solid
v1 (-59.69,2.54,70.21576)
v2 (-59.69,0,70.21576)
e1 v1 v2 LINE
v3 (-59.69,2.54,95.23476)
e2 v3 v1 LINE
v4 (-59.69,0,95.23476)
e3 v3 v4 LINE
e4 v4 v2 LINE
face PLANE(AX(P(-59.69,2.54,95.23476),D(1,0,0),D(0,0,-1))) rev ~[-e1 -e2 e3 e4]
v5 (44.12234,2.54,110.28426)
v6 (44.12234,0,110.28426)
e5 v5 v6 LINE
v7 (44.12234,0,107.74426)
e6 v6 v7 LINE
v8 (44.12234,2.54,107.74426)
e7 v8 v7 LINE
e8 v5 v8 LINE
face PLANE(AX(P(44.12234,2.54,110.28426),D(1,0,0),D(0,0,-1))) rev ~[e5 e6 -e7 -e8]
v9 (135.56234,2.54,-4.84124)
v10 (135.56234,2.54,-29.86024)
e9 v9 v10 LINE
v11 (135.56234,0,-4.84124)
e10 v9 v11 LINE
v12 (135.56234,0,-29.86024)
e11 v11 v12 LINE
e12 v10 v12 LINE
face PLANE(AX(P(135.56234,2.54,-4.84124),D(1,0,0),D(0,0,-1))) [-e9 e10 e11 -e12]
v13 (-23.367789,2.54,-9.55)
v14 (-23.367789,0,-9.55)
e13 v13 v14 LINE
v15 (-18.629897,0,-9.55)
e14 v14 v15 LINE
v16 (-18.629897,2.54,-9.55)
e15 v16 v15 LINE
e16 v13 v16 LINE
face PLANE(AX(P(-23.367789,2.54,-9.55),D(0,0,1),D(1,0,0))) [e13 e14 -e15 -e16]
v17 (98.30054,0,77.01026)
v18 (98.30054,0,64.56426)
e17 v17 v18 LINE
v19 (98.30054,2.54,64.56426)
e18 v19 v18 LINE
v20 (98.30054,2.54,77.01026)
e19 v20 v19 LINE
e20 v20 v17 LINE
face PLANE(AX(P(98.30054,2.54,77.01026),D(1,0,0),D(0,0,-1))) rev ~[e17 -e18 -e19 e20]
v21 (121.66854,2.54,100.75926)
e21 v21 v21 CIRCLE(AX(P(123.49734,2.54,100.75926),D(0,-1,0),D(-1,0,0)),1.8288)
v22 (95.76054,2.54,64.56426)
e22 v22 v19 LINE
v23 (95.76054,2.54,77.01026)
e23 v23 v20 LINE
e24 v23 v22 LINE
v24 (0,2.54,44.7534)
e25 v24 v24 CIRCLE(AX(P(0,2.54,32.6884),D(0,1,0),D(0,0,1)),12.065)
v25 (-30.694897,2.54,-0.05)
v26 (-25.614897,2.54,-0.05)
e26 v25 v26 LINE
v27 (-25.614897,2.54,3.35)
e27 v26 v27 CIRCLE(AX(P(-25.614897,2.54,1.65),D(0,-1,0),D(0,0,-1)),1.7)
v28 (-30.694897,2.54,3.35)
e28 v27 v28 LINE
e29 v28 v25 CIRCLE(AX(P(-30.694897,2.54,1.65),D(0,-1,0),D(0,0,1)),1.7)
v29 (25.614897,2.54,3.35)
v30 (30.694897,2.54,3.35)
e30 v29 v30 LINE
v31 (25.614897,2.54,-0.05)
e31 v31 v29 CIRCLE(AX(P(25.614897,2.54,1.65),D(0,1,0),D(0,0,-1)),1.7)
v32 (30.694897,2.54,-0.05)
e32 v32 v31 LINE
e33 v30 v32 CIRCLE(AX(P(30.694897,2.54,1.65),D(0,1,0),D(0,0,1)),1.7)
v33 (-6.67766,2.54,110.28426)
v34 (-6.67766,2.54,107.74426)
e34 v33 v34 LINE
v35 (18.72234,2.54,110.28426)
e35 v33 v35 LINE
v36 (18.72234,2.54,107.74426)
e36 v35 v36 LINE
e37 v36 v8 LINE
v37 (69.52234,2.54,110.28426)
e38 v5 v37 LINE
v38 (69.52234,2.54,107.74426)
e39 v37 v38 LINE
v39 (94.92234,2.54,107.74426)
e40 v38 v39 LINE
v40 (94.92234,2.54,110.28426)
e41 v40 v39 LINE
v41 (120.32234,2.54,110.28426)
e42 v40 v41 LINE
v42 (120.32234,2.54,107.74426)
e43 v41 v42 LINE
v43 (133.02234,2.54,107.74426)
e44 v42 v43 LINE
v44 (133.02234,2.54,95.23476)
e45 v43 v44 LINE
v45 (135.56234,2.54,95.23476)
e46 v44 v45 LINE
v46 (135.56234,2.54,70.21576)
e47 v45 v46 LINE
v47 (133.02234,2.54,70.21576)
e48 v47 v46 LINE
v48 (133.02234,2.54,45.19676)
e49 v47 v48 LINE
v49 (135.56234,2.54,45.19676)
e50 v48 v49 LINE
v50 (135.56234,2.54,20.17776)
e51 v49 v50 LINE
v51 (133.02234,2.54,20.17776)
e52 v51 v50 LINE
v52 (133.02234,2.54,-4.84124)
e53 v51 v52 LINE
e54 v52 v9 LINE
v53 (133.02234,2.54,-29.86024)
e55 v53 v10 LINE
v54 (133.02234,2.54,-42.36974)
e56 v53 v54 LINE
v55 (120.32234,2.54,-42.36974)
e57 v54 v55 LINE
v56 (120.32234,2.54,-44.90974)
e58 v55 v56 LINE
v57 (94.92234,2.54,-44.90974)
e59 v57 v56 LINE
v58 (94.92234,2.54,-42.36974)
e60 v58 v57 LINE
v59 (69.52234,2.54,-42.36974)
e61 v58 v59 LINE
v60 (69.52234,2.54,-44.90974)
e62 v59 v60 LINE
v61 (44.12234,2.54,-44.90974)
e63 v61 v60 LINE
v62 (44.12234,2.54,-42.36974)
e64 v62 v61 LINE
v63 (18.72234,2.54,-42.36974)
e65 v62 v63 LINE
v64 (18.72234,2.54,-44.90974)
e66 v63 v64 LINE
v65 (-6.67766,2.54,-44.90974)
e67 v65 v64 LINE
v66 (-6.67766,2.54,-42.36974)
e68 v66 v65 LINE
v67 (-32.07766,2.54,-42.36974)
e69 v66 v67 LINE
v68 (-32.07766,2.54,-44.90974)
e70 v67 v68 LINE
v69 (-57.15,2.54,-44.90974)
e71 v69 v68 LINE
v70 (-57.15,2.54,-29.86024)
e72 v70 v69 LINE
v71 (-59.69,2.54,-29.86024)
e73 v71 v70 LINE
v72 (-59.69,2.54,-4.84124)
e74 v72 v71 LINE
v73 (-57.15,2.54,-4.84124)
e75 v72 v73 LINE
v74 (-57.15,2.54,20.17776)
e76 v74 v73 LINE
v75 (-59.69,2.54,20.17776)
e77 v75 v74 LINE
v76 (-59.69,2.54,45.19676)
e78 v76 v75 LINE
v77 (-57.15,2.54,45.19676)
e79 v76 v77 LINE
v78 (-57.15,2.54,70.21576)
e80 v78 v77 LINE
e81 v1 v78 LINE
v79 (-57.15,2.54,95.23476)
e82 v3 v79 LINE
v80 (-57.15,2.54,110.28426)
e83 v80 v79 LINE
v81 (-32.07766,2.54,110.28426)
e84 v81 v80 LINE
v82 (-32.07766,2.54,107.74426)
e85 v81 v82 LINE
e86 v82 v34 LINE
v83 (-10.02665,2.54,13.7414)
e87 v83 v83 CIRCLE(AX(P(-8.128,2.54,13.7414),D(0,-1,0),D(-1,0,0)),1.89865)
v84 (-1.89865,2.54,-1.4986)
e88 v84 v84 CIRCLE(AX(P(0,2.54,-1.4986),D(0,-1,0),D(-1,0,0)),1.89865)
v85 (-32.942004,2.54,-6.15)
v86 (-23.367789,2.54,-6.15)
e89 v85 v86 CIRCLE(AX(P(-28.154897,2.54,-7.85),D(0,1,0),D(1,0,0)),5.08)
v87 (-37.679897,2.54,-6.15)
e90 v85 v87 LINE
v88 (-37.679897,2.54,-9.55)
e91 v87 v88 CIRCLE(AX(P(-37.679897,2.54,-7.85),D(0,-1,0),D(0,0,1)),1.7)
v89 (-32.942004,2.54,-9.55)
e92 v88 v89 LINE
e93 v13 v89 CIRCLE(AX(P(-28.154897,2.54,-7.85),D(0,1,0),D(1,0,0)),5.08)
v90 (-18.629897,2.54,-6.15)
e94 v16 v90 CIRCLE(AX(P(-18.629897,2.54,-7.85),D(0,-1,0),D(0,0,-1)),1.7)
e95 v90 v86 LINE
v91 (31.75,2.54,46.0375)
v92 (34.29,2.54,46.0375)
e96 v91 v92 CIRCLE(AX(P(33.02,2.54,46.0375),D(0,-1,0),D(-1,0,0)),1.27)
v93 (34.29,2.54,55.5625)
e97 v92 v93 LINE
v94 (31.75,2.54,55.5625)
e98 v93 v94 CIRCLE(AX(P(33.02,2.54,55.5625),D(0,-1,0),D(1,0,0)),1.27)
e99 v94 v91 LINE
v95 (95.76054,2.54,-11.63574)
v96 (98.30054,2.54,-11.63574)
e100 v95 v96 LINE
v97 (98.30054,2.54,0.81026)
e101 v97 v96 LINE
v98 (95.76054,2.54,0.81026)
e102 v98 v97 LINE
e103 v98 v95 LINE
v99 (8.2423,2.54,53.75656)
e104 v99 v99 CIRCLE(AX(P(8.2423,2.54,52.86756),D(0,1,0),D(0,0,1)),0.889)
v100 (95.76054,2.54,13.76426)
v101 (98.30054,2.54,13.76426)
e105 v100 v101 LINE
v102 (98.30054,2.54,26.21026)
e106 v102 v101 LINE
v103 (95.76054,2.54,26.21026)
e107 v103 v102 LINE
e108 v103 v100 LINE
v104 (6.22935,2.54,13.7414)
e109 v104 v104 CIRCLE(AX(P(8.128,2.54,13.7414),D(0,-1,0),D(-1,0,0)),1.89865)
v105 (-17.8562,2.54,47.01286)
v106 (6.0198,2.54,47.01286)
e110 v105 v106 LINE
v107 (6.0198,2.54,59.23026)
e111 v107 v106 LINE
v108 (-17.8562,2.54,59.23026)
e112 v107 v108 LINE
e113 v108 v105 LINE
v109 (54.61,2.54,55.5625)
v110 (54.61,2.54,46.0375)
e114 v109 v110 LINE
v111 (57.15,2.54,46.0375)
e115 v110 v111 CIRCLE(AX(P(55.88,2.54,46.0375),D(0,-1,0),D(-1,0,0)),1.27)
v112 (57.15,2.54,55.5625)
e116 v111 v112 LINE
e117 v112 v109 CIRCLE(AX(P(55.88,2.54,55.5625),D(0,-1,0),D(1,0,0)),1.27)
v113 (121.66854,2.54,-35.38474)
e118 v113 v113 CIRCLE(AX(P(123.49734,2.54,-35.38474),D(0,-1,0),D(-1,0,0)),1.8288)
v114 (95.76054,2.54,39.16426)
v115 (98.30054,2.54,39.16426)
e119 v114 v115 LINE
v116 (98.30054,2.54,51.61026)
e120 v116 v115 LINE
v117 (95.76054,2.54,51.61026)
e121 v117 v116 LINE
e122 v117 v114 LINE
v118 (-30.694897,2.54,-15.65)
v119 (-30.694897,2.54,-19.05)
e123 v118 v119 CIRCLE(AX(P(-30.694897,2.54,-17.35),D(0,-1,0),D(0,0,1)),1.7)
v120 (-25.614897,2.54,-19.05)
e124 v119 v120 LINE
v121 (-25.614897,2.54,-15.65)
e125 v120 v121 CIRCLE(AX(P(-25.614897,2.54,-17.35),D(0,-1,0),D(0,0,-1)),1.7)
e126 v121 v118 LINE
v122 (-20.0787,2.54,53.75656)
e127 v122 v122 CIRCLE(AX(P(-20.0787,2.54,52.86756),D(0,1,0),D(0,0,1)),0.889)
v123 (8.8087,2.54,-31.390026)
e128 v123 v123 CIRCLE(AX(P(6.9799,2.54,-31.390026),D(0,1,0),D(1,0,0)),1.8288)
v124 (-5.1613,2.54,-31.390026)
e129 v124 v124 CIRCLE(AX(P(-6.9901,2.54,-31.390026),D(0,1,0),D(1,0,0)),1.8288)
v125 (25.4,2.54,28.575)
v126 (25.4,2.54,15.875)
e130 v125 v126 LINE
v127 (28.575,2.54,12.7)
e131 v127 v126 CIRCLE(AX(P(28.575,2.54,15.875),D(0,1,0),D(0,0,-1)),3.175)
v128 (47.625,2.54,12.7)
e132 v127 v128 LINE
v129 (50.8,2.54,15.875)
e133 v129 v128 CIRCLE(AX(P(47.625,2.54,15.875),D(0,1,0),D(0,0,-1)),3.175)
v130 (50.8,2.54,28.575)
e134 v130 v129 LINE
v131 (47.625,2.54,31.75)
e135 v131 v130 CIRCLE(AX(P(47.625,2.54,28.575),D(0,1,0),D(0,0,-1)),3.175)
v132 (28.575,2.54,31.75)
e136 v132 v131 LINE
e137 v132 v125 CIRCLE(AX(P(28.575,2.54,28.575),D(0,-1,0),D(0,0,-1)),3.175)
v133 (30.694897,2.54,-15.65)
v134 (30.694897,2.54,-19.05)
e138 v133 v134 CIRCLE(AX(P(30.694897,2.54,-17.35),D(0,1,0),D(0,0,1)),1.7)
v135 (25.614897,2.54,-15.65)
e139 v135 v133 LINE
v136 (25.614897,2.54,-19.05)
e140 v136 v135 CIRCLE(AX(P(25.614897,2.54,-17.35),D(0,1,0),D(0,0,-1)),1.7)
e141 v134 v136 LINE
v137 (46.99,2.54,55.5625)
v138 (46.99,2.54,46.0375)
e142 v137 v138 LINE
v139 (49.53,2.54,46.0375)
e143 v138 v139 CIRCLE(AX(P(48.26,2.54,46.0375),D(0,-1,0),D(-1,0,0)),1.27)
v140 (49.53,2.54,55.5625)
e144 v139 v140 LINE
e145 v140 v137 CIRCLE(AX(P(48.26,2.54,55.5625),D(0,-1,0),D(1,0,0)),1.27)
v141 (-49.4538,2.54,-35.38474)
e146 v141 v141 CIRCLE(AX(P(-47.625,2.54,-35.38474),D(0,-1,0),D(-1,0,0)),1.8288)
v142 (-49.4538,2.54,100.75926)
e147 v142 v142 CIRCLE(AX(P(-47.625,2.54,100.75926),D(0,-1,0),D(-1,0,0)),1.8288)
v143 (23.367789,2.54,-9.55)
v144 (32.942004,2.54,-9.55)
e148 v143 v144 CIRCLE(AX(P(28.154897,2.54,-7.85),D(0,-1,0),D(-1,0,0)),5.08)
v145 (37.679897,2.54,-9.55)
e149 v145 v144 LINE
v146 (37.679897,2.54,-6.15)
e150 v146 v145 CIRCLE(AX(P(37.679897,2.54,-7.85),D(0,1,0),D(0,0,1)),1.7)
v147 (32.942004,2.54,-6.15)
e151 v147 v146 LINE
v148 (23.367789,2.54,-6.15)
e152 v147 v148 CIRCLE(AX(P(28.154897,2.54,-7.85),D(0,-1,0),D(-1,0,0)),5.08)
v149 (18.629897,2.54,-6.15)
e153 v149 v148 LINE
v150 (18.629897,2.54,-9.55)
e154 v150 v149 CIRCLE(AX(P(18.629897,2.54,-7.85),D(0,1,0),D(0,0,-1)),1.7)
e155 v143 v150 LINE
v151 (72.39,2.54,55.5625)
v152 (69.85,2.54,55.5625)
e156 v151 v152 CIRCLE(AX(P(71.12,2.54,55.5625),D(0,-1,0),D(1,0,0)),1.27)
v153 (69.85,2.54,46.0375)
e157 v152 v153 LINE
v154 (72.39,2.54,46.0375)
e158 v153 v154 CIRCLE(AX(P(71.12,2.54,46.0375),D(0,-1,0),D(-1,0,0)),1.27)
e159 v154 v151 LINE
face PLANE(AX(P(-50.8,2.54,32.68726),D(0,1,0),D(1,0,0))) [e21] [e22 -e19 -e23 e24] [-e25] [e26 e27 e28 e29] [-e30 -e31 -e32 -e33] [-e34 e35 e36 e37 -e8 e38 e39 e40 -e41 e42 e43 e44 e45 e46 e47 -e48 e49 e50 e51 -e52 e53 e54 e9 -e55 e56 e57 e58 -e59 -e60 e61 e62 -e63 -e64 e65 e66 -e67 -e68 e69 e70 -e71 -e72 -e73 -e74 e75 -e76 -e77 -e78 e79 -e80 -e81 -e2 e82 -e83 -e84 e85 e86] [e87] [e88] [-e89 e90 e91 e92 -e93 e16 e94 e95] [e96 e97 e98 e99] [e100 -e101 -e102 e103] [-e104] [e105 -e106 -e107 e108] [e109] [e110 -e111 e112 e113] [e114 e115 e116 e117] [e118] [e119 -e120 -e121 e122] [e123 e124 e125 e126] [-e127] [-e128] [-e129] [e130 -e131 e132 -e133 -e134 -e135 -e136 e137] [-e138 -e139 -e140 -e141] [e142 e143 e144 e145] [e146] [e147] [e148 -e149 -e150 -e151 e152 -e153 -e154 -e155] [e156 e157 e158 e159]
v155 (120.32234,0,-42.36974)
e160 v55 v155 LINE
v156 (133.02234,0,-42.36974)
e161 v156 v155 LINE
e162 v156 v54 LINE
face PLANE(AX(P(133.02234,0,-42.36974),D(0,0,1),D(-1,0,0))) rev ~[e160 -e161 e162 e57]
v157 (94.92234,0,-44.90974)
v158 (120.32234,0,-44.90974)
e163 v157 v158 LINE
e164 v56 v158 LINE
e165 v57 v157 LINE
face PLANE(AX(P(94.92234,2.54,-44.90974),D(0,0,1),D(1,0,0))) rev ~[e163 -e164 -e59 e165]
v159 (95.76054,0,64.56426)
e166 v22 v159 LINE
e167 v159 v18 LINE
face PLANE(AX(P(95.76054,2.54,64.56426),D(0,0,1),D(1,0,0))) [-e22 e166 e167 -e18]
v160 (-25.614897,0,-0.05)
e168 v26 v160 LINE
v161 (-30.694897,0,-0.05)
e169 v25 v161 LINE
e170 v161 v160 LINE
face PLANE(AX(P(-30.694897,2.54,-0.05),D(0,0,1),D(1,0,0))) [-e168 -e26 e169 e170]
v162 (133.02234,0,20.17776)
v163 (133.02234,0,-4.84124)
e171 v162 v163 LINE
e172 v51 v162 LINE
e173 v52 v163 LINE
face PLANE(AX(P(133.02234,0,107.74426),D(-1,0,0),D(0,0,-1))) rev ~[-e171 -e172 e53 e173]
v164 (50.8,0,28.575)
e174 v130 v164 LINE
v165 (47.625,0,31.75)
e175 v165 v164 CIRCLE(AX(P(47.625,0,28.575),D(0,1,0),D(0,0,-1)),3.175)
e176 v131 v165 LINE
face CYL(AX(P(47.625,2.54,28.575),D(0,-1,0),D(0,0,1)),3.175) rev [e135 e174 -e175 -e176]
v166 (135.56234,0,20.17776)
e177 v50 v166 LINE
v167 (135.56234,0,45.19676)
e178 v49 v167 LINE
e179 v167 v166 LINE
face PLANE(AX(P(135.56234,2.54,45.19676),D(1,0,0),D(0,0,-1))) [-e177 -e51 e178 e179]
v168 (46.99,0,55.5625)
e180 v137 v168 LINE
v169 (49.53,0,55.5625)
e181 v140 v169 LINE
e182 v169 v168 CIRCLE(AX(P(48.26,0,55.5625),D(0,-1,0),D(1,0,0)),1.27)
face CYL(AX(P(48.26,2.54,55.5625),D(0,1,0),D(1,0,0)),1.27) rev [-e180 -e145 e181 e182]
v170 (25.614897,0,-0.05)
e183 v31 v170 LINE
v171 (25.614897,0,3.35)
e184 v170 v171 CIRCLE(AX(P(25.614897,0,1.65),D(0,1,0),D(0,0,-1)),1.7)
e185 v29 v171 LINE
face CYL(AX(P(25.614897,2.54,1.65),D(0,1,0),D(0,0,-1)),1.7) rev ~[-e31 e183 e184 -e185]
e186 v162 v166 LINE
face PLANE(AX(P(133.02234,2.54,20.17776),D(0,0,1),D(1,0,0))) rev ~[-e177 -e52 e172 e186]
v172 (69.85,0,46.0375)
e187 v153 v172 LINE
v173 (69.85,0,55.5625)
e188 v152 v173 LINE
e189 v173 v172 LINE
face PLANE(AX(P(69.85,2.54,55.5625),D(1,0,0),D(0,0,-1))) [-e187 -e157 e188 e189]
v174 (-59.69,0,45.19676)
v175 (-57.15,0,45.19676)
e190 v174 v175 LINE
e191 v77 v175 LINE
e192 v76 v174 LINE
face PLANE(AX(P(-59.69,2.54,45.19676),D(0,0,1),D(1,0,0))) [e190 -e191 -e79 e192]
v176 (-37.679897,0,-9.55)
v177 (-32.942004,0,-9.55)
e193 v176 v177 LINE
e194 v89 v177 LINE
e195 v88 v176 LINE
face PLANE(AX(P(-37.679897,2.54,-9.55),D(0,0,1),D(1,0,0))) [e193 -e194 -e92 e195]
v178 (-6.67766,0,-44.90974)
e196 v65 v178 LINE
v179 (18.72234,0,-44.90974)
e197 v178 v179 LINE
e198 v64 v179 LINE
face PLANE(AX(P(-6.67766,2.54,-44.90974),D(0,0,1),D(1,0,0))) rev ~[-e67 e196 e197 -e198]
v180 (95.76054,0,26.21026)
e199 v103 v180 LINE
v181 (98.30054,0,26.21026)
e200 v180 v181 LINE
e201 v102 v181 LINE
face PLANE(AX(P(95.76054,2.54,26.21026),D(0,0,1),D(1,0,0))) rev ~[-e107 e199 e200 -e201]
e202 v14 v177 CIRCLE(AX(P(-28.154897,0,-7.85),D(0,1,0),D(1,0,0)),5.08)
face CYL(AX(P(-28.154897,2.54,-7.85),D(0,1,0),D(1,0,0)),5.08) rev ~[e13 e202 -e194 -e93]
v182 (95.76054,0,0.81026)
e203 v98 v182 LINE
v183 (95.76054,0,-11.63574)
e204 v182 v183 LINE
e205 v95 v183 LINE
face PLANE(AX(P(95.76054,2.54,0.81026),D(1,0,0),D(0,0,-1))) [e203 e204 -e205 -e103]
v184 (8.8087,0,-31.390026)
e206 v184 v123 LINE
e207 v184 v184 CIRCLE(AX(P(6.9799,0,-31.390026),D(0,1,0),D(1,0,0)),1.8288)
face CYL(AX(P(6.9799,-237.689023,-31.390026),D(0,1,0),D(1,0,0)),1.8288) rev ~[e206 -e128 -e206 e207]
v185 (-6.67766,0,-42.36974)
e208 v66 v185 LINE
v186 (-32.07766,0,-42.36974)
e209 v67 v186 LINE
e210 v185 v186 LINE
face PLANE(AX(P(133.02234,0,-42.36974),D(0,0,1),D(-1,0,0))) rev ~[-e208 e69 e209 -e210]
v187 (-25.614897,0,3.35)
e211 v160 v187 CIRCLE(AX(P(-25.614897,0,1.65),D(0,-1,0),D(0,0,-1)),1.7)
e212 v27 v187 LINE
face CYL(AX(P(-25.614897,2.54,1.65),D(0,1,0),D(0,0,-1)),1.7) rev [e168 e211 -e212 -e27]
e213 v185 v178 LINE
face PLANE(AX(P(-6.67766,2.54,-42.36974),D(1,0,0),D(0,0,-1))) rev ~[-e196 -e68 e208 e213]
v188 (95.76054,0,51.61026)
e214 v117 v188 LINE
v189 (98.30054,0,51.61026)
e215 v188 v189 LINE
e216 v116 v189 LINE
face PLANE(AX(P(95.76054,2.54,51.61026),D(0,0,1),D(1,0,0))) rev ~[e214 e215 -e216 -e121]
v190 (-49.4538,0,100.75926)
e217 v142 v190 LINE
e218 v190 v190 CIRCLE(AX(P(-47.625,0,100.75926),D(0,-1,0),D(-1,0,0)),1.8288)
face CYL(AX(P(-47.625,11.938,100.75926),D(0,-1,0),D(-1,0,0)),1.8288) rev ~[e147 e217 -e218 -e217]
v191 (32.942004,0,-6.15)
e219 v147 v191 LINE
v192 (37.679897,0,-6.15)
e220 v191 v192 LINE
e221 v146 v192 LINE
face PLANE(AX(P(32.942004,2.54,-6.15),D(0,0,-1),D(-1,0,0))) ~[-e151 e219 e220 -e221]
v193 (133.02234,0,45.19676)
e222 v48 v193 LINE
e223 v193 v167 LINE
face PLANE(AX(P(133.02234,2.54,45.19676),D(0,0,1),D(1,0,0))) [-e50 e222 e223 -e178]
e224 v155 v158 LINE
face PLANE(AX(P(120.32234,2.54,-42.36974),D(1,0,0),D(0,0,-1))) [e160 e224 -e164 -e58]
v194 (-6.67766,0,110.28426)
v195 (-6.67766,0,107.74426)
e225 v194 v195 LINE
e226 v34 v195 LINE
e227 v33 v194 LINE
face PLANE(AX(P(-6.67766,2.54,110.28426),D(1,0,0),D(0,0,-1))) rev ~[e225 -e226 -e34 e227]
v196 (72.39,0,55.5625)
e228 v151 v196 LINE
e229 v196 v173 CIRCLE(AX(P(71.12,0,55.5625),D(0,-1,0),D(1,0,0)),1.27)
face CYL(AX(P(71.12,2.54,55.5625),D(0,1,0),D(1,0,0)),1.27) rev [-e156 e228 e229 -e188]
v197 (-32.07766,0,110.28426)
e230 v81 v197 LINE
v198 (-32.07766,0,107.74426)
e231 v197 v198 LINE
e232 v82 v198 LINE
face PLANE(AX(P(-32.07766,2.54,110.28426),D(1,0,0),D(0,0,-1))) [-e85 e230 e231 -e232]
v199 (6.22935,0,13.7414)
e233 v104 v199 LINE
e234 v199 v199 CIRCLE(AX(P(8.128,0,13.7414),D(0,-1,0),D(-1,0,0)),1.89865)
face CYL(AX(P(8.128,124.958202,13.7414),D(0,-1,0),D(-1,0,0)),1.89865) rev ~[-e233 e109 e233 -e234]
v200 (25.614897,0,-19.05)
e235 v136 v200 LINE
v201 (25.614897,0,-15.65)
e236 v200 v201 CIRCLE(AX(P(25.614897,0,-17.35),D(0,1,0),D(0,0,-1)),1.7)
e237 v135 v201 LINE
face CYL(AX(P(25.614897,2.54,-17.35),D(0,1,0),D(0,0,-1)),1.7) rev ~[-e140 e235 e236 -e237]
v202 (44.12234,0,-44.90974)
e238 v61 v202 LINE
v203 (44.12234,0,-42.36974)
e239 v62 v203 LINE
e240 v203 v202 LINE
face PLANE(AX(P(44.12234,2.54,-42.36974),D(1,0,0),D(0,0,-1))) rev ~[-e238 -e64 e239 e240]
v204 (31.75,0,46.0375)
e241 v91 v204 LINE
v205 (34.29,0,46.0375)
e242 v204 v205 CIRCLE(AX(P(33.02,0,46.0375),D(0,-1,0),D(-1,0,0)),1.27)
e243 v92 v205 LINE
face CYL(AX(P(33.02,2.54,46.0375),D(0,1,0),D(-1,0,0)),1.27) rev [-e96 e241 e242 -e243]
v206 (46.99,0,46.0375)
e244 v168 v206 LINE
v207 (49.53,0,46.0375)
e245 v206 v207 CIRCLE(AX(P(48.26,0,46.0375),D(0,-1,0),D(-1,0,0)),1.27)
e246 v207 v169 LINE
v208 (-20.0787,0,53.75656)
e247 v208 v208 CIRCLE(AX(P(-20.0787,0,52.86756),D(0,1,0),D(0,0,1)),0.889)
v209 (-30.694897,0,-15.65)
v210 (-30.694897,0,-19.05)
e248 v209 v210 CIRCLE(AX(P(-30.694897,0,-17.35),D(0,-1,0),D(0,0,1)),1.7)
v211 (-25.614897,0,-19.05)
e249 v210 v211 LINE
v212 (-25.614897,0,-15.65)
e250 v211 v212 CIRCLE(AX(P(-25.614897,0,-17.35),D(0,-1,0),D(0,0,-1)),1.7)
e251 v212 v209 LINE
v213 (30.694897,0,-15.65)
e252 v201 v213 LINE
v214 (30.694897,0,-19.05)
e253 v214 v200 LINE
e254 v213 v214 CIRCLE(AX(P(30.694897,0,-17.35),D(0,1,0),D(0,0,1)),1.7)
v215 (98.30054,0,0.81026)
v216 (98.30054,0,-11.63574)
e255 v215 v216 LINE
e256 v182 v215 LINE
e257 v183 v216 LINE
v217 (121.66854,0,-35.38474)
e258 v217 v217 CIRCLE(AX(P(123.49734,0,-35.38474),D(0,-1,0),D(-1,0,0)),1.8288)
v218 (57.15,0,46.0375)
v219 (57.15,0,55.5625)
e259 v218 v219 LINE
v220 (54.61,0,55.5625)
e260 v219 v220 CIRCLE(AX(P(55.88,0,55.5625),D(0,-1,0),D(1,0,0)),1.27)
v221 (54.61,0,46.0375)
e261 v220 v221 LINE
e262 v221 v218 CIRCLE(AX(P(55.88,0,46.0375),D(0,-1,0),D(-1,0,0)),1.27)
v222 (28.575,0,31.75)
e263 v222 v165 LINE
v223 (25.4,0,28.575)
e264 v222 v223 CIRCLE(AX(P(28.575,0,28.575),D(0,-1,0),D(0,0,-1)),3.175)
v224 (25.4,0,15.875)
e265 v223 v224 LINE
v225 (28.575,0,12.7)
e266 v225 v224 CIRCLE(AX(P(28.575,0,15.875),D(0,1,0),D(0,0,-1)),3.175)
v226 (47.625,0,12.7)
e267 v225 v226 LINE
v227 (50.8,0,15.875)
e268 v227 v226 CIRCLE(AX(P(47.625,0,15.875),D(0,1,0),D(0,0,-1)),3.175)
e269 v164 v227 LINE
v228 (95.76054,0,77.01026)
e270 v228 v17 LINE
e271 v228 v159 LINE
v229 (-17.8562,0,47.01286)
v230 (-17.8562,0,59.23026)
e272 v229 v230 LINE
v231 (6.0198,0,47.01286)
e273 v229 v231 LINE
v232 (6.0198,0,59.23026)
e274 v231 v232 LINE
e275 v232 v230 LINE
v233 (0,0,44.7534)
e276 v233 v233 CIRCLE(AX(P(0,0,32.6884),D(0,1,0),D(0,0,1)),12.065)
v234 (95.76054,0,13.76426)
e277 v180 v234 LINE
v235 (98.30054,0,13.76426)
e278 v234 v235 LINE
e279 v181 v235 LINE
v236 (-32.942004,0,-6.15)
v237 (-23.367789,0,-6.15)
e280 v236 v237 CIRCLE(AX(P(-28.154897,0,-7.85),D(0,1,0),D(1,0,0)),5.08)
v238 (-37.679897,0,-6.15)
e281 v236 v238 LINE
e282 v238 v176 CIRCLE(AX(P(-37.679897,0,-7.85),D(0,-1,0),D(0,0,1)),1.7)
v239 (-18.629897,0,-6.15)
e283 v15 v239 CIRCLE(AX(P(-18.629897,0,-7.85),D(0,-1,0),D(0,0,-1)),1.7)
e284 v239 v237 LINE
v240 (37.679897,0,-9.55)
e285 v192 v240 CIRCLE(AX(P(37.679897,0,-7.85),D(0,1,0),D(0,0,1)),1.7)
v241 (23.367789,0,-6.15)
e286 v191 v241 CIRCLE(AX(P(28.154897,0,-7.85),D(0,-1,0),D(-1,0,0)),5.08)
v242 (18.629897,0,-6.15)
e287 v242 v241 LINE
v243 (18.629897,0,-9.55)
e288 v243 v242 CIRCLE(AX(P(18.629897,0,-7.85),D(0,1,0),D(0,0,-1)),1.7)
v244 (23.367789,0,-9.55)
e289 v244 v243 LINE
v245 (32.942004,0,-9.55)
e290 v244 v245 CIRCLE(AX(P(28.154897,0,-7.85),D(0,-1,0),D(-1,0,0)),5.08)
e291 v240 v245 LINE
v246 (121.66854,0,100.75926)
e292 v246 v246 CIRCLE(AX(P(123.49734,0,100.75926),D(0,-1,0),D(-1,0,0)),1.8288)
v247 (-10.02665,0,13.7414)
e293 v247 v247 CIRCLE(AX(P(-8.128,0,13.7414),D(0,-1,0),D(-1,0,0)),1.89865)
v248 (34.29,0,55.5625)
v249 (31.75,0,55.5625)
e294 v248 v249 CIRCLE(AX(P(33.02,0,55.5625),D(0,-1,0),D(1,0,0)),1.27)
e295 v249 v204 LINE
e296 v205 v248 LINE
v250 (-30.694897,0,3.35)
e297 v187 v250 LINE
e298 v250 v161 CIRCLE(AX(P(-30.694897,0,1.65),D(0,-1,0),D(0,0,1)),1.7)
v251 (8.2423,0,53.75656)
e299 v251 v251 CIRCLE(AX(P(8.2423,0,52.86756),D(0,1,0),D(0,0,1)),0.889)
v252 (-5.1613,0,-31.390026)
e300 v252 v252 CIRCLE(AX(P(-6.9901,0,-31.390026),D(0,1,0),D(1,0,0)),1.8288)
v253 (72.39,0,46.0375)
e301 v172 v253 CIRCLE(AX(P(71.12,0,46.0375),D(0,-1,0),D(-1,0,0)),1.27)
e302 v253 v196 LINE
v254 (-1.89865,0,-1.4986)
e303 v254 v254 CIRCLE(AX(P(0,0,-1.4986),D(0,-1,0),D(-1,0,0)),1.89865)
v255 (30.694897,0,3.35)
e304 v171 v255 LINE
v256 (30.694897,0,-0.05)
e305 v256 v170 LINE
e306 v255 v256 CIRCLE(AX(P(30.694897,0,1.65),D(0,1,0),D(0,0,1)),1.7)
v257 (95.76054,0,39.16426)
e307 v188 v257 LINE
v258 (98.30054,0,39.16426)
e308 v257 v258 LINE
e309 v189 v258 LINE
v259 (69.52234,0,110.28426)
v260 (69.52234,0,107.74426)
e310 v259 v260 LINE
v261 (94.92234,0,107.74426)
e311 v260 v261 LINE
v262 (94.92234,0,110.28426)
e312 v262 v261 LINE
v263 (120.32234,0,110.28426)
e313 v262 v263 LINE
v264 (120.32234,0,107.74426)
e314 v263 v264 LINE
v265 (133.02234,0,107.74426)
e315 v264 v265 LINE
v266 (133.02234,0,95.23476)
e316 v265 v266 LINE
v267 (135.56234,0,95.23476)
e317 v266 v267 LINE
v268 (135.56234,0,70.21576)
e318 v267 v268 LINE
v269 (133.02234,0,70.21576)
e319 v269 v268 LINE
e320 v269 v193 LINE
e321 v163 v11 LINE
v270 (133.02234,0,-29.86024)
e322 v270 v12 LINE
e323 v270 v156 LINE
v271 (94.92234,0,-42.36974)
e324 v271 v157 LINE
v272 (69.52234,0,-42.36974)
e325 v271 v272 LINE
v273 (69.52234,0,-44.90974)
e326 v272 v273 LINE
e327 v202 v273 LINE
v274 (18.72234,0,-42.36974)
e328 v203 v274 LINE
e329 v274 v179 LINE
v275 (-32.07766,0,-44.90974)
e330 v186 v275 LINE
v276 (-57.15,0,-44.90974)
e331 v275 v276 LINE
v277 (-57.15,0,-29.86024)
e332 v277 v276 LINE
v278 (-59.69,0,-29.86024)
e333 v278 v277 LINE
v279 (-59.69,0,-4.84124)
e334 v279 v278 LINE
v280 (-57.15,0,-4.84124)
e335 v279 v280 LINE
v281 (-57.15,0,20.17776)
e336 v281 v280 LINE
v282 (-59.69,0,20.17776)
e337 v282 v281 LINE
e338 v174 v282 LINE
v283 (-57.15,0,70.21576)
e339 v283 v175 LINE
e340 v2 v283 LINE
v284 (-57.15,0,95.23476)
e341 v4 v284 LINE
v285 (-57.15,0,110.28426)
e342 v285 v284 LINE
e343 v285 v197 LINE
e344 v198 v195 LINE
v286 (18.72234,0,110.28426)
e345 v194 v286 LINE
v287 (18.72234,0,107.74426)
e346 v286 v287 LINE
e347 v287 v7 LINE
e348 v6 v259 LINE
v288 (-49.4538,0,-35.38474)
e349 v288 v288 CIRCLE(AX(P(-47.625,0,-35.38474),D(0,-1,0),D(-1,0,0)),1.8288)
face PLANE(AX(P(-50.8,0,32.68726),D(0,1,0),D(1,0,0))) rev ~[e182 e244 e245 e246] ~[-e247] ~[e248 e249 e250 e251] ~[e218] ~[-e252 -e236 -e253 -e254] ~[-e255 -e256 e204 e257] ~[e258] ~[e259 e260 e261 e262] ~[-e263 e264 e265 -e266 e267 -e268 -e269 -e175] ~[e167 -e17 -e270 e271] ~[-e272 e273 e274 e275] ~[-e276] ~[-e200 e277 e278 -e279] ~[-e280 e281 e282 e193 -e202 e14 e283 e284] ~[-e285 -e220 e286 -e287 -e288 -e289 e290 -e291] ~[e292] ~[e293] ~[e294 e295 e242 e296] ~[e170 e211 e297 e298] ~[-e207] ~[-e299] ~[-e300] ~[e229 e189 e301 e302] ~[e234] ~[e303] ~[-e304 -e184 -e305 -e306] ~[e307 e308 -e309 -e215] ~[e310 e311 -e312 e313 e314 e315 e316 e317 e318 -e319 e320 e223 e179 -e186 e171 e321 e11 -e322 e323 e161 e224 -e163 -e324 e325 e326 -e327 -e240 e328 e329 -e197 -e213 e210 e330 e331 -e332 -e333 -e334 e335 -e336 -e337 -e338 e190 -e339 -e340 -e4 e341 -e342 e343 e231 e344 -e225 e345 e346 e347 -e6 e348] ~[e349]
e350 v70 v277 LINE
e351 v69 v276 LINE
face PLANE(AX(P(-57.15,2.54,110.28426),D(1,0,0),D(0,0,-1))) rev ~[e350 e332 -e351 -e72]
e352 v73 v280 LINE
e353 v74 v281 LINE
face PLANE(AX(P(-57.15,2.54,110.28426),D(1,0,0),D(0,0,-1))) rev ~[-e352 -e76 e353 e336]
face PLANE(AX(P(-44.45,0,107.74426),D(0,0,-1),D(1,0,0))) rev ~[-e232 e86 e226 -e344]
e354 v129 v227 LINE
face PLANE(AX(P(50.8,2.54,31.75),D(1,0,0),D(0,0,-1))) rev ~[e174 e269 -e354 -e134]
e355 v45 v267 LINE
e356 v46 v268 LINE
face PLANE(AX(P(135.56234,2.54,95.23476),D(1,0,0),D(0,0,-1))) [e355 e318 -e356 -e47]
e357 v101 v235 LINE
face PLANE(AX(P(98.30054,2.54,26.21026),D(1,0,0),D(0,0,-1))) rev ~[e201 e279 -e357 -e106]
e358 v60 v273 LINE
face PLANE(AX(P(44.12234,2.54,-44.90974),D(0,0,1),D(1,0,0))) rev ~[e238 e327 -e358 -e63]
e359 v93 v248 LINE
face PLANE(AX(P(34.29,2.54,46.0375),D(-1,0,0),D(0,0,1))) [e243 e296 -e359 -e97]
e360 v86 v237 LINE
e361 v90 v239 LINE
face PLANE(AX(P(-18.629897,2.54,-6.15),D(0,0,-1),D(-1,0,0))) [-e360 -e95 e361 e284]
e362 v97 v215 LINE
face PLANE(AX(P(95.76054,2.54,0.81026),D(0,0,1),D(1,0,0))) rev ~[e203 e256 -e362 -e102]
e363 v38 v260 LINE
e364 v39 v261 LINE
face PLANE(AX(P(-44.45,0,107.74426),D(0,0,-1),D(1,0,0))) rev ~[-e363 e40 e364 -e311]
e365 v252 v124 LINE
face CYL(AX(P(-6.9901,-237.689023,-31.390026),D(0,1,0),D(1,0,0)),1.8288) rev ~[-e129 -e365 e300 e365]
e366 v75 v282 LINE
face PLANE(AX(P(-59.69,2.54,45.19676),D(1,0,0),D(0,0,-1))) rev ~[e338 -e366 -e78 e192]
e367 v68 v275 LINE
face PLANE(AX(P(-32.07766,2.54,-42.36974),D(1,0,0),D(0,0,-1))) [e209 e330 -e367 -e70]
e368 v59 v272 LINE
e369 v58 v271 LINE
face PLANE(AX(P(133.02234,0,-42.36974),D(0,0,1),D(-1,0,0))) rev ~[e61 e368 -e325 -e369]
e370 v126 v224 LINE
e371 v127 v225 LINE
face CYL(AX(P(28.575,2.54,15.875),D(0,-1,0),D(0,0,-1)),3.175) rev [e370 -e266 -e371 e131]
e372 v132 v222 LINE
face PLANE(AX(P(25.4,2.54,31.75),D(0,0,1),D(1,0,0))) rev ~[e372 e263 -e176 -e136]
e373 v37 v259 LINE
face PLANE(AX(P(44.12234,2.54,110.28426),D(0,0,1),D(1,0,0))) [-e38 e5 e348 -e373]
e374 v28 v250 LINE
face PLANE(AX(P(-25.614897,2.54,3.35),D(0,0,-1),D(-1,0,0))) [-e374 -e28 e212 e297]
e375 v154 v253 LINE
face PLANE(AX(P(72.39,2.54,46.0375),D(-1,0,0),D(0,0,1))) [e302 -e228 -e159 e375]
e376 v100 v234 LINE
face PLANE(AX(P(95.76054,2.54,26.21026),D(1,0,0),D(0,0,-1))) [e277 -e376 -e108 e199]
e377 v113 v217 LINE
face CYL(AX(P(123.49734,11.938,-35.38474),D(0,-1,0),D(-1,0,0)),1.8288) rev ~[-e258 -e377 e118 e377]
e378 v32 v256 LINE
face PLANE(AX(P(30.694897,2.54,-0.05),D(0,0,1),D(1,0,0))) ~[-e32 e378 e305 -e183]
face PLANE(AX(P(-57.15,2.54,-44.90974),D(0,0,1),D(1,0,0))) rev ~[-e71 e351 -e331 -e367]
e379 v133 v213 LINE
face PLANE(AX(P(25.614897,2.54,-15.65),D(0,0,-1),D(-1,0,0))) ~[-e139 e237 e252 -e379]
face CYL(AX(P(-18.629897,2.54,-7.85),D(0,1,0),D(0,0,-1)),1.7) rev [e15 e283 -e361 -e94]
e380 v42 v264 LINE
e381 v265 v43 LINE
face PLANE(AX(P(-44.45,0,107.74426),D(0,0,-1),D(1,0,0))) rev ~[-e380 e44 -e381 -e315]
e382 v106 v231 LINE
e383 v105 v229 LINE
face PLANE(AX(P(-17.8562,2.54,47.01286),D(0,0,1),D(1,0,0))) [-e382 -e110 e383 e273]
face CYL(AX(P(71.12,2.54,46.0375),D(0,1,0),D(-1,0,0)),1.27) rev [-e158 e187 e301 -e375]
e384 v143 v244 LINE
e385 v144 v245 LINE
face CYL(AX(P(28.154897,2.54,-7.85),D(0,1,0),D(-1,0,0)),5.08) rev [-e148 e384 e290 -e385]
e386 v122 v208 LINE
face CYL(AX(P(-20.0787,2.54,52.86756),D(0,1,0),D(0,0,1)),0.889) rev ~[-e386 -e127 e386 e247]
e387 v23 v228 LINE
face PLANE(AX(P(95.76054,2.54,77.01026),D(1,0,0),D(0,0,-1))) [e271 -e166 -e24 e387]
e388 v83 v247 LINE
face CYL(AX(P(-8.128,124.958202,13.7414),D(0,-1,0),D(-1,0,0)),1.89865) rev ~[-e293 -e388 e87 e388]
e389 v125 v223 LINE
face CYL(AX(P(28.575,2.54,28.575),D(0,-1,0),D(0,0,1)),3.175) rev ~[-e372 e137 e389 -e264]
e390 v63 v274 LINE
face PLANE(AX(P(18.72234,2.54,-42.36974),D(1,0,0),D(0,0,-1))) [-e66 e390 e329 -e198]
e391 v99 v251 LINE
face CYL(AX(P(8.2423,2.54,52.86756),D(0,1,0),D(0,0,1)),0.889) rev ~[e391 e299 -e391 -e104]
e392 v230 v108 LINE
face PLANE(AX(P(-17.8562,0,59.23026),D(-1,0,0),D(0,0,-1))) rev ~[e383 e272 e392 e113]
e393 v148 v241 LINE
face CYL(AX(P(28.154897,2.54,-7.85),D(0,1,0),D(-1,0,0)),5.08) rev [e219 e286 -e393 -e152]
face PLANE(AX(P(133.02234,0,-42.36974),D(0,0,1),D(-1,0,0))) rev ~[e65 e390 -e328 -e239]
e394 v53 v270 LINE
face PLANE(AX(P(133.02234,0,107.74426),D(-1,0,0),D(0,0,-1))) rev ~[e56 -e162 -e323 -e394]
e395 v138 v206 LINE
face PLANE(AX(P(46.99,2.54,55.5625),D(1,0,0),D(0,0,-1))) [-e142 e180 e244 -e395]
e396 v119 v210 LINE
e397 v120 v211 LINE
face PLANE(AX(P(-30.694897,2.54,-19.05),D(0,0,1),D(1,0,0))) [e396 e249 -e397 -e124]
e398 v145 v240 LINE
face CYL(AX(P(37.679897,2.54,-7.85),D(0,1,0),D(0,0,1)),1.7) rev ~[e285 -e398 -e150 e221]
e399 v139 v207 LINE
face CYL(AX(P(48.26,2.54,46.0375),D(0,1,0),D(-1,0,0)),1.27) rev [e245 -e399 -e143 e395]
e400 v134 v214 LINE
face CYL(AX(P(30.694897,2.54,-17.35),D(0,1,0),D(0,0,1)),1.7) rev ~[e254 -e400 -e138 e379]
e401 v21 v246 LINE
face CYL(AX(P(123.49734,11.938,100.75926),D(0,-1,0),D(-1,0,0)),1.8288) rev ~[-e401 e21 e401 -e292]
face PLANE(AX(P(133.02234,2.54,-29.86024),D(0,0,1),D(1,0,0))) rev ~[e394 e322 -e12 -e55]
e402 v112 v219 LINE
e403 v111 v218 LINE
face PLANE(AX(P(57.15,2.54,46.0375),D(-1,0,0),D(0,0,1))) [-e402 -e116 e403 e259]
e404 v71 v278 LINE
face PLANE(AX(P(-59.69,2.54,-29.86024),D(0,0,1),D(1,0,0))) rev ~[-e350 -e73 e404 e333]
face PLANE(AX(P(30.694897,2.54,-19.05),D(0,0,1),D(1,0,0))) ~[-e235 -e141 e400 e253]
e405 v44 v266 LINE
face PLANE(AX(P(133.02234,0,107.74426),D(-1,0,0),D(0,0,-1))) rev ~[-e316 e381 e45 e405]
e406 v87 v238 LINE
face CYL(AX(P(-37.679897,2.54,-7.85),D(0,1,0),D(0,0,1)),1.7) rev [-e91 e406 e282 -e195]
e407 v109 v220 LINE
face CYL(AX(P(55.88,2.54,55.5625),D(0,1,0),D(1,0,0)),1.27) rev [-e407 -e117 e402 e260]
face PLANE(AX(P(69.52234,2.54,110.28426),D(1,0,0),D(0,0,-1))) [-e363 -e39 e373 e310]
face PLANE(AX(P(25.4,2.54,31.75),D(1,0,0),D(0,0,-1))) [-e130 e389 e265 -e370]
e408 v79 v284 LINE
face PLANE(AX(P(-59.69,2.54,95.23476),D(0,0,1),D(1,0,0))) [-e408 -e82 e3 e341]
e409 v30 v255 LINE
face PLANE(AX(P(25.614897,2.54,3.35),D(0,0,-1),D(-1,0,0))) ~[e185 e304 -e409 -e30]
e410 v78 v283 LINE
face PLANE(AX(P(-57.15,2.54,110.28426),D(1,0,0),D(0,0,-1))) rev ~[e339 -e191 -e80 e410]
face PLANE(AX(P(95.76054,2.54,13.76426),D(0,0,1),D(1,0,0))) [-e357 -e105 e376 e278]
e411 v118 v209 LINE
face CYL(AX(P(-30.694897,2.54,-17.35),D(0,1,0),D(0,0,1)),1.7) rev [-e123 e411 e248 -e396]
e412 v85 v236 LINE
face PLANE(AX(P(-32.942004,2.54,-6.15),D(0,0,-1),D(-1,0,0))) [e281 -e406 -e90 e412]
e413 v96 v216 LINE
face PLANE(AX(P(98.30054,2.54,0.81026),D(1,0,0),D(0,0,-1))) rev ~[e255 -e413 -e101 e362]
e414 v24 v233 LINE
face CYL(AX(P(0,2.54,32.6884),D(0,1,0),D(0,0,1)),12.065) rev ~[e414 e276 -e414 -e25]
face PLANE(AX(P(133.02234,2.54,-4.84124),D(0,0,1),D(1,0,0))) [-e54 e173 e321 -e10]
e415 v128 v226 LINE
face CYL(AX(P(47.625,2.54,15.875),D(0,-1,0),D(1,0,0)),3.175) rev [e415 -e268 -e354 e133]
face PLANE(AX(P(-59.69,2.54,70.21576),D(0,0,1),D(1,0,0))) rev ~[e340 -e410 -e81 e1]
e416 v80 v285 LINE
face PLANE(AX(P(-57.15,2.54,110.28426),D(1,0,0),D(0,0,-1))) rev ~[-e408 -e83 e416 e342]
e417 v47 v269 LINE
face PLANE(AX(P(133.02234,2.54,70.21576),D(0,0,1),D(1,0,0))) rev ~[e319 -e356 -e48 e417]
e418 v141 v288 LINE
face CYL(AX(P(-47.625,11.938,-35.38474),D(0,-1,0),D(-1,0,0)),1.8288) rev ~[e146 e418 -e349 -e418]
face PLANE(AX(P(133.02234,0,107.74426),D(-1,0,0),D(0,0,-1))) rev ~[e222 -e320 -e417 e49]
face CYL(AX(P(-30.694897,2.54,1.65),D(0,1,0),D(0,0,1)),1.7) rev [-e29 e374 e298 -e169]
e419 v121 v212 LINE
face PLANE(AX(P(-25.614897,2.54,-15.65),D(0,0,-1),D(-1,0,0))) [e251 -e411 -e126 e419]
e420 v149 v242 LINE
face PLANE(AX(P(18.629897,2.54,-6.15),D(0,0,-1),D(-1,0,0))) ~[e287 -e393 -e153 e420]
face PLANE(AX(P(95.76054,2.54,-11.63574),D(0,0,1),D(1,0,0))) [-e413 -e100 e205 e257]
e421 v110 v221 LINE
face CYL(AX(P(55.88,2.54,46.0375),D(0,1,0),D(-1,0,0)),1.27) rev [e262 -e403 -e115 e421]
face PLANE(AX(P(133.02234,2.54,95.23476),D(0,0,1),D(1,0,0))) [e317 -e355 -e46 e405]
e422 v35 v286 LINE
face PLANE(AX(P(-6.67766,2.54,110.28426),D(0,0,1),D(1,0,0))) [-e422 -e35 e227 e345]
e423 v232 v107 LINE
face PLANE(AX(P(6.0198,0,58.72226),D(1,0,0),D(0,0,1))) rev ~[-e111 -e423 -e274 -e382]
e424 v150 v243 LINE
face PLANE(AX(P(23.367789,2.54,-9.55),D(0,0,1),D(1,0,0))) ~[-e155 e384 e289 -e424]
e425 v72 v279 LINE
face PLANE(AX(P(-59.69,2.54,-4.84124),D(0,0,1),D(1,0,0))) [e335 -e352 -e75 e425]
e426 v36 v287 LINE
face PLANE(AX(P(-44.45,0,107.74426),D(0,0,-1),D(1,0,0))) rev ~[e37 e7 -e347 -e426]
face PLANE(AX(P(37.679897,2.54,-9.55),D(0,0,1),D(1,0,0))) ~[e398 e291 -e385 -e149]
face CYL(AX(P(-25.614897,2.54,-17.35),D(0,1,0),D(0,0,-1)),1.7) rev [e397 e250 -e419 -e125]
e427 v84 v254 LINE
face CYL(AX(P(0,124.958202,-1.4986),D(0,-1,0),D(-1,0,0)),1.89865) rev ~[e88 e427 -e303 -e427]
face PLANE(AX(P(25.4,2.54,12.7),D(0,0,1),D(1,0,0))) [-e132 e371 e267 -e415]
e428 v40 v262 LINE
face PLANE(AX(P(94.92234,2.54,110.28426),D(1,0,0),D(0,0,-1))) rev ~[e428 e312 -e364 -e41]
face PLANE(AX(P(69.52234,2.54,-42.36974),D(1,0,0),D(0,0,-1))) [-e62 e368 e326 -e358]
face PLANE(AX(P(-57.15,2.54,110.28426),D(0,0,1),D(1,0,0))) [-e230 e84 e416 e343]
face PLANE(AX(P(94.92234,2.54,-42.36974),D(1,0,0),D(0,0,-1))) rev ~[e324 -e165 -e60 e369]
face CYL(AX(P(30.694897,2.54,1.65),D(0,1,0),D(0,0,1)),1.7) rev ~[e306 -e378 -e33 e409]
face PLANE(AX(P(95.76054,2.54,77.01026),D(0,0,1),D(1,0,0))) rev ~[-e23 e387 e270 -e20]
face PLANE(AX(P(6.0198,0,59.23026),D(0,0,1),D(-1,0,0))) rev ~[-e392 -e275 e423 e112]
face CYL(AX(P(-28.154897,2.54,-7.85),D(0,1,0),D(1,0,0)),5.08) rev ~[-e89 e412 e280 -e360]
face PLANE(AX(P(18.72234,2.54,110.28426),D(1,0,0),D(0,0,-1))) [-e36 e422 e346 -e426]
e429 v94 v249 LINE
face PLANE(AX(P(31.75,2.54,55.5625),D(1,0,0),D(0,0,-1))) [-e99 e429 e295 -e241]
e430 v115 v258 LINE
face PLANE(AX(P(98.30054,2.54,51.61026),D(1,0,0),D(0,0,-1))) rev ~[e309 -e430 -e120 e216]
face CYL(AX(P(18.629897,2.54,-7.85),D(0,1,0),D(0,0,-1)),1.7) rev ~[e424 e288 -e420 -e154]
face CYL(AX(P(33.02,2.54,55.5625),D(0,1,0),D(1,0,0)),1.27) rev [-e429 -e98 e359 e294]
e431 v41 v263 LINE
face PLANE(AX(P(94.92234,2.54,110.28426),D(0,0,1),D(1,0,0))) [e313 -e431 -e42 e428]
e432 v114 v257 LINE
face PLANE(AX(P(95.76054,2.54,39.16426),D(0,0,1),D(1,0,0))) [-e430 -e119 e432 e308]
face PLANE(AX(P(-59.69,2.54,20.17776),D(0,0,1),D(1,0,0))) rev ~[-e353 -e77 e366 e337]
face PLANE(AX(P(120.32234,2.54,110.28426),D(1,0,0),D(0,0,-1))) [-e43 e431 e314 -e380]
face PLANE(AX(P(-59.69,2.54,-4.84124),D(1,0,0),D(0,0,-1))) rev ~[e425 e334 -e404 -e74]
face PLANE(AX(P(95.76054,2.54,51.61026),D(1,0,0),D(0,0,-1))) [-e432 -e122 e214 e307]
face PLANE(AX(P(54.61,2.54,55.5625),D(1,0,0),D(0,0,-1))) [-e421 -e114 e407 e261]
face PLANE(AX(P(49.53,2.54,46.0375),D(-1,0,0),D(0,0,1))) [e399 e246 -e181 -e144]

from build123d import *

# Parameters (mm, degrees)
SKETCH1_W                 = 88.9
SKETCH1_H                 = 84.12226
BOSS_EXTRUDE1_DEPTH       = 2.54
SKETCH2_R                 = 5.08
CUT_EXTRUDE1_DEPTH        = 2.54
SKETCH3_R                 = 12.065
CUT_EXTRUDE2_DEPTH        = 74.692319271
SKETCH4_R                 = 0.889
SKETCH4_W                 = 23.876
SKETCH4_H                 = 11.7094
CUT_EXTRUDE3_DEPTH        = 74.692319271
F_6_CLEARANCE_HOLE1_D     = 3.7973
BOSS_EXTRUDE2_DEPTH       = 2.54
SKETCH10_W                = 2.54
SKETCH10_H                = 12.446
CUT_EXTRUDE4_DEPTH        = 172.20227832
LPATTERN1_COUNT           = 4
LPATTERN1_PITCH           = 25.4
SKETCH11_W                = 25.4
SKETCH11_H                = 2.54
BOSS_EXTRUDE3_DEPTH       = 2.54
LPATTERN2_COUNT           = 4
LPATTERN2_PITCH           = 50.8
LPATTERN2_COUNT_DIR2      = 2
LPATTERN2_PITCH_DIR2      = 152.654
SKETCH12_W                = 2.54
SKETCH12_H                = 25.019
BOSS_EXTRUDE4_DEPTH       = 2.54
LPATTERN3_COUNT           = 3
LPATTERN3_PITCH           = 50.038
SKETCH13_W                = 13.02766
SKETCH13_H                = 155.194
CUT_EXTRUDE5_DEPTH        = 175.774762566
F_6_CLEARANCE_HOLE2_D     = 3.6576
SKETCH17_W                = 12.7
SKETCH17_H                = 155.194
BOSS_EXTRUDE5_DEPTH       = 2.54
LPATTERN4_COUNT           = 2
LPATTERN4_PITCH           = 192.71234
LPATTERN4_COPY_1_SKETCH_W = 2.54
LPATTERN4_COPY_1_SKETCH_H = 25.019
LPATTERN4_COPY_1_DEPTH    = 2.54
LPATTERN4_COPY_2_SKETCH_W = 2.54
LPATTERN4_COPY_2_SKETCH_H = 25.019
LPATTERN4_COPY_2_DEPTH    = 2.54
SKETCH18_W                = 25.4
SKETCH18_H                = 19.05
CUT_EXTRUDE6_DEPTH        = 175.774762566
FILLET1_R                 = 3.175
CUT_EXTRUDE7_DEPTH        = 2.54
LPATTERN5_COUNT           = 6
LPATTERN5_PITCH           = 7.62
F_6_CLEARANCE_HOLE3_D     = 3.6576
F_6_CLEARANCE_HOLE3_DEPTH = 9.398
F_6_CLEARANCE_HOLE3_TIP   = 1.0988539


with BuildPart() as part:
    # Sketch1 → Boss-Extrude1 (new body)
    with BuildSketch(Plane(origin=(0, 0, 0), x_dir=(1, 0, 0), z_dir=(0, 1, 0))):
        with Locations((0, -16.66113)):
            Rectangle(SKETCH1_W, SKETCH1_H)
    extrude(amount=BOSS_EXTRUDE1_DEPTH)

    # Sketch2 → Cut-Extrude1 (cut)
    with BuildSketch(Plane(origin=(0, 2.54, 0), x_dir=(1, 0, 0), z_dir=(0, 1, 0))):
        with Locations((-28.1548967, 7.85)):
            Circle(SKETCH2_R)
        with BuildLine():
            Line((-25.6148967, 15.65), (-30.6948967, 15.65))
            ThreePointArc((-30.6948967, 15.65), (-32.3948967, 17.35), (-30.6948967, 19.05))
            Line((-30.6948967, 19.05), (-25.6148967, 19.05))
            ThreePointArc((-25.6148967, 19.05), (-23.9148967, 17.35), (-25.6148967, 15.65))
        make_face()
        with BuildLine():
            Line((-30.6948967, 0.05), (-25.6148967, 0.05))
            ThreePointArc((-25.6148967, 0.05), (-23.9148967, -1.65), (-25.6148967, -3.35))
            Line((-25.6148967, -3.35), (-30.6948967, -3.35))
            ThreePointArc((-30.6948967, -3.35), (-32.3948967, -1.65), (-30.6948967, 0.05))
        make_face()
        with BuildLine():
            Line((-37.6798967, 9.55), (-18.6298967, 9.55))
            ThreePointArc((-18.6298967, 9.55), (-16.9298967, 7.85), (-18.6298967, 6.15))
            Line((-18.6298967, 6.15), (-37.6798967, 6.15))
            ThreePointArc((-37.6798967, 6.15), (-39.3798967, 7.85), (-37.6798967, 9.55))
        make_face()
    cut_extrude1 = extrude(amount=-CUT_EXTRUDE1_DEPTH, mode=Mode.SUBTRACT)

    # Mirror1: Cut-Extrude1 across plane
    add(cut_extrude1.mirror(Plane(origin=(0, 0, 0), x_dir=(0, 0, 1), z_dir=(1, 0, 0))), mode=Mode.SUBTRACT)

    # Sketch3 → Cut-Extrude2 (cut, through all)
    with BuildSketch(Plane(origin=(0, 2.54, 0), x_dir=(1, 0, 0), z_dir=(0, 1, 0))):
        with Locations(Location((0, -32.6884, 0), (0, 0, 270))):
            Circle(SKETCH3_R)
    extrude(amount=-CUT_EXTRUDE2_DEPTH, mode=Mode.SUBTRACT)

    # Sketch4 → Cut-Extrude3 (cut, through all)
    with BuildSketch(Plane(origin=(0, 2.54, 0), x_dir=(1, 0, 0), z_dir=(0, 1, 0))):
        with Locations(Location((-20.0787, -52.86756, 0), (0, 0, 270))):
            Circle(SKETCH4_R)
        with Locations(Location((8.2423, -52.86756, 0), (0, 0, 270))):
            Circle(SKETCH4_R)
        with Locations((-5.9182, -52.86756)):
            Rectangle(SKETCH4_W, SKETCH4_H)
    extrude(amount=-CUT_EXTRUDE3_DEPTH, mode=Mode.SUBTRACT)

    # #6 Clearance Hole1 (through all)
    with Locations(Plane(origin=(0, 2.54, 0), x_dir=(1, 0, 0), z_dir=(0, 1, 0))):
        with Locations((0, 1.4986), (-8.128, -13.7414), (8.128, -13.7414)):
            Hole(F_6_CLEARANCE_HOLE1_D / 2)

    # Sketch9 → Boss-Extrude2 (add)
    with BuildSketch(Plane(origin=(0, 0, 0), x_dir=(1, 0, 0), z_dir=(0, 1, 0))):
        Polygon((-44.45, 25.4), (44.45, 25.4), (44.45, -58.72226), (6.0198, -58.72226), (6.0198, -59.23026), (-17.8562, -59.23026), (-17.8562, -58.72226), (-44.45, -58.72226), (-44.45, -107.74426), (133.02234, -107.74426), (133.02234, 42.36974), (-44.45, 42.36974), align=None)
    extrude(amount=BOSS_EXTRUDE2_DEPTH)

    # Sketch10 → Cut-Extrude4 (cut, through all)
    with BuildSketch(Plane(origin=(0, 2.54, 0), x_dir=(1, 0, 0), z_dir=(0, 1, 0))):
        with Locations((97.03054, 5.41274)):
            Rectangle(SKETCH10_W, SKETCH10_H)
    cut_extrude4 = extrude(amount=-CUT_EXTRUDE4_DEPTH, mode=Mode.SUBTRACT)

    # LPattern1: Cut-Extrude4 ×4
    with Locations(*[(0, 0, i * LPATTERN1_PITCH) for i in range(1, LPATTERN1_COUNT)]):
        add(cut_extrude4, mode=Mode.SUBTRACT)

    # Sketch11 → Boss-Extrude3 (add)
    with BuildSketch(Plane(origin=(0, 2.54, 0), x_dir=(1, 0, 0), z_dir=(0, 1, 0))):
        with Locations((107.62234, -109.01426)):
            Rectangle(SKETCH11_W, SKETCH11_H)
    boss_extrude3 = extrude(amount=-BOSS_EXTRUDE3_DEPTH)

    # LPattern2: Boss-Extrude3 4 × 2
    with Locations(*[(-i * LPATTERN2_PITCH, 0, -j * LPATTERN2_PITCH_DIR2) for i in range(LPATTERN2_COUNT) for j in range(LPATTERN2_COUNT_DIR2) if (i, j) != (0, 0)]):
        add(boss_extrude3)

    # Sketch12 → Boss-Extrude4 (add)
    with BuildSketch(Plane(origin=(0, 2.54, 0), x_dir=(1, 0, 0), z_dir=(0, 1, 0))):
        with Locations((134.29234, -82.72526)):
            Rectangle(SKETCH12_W, SKETCH12_H)
    boss_extrude4 = extrude(amount=-BOSS_EXTRUDE4_DEPTH)

    # LPattern3: Boss-Extrude4 ×3
    with Locations(*[(0, 0, -i * LPATTERN3_PITCH) for i in range(1, LPATTERN3_COUNT)]):
        add(boss_extrude4)

    # Sketch13 → Cut-Extrude5 (cut, through all)
    with BuildSketch(Plane(origin=(0, 2.54, 0), x_dir=(1, 0, 0), z_dir=(0, 1, 0))):
        with Locations((-50.96383, -32.68726)):
            Rectangle(SKETCH13_W, SKETCH13_H)
    extrude(amount=-CUT_EXTRUDE5_DEPTH, mode=Mode.SUBTRACT)

    # #6 Clearance Hole2 (through all)
    with Locations(Plane(origin=(0, 0, 0), x_dir=(-1, 0, 0), z_dir=(0, -1, 0))):
        with Locations((6.990100066, 31.390026268), (-6.979899934, 31.390026268)):
            Hole(F_6_CLEARANCE_HOLE2_D / 2)

    # Sketch17 → Boss-Extrude5 (add)
    with BuildSketch(Plane(origin=(0, 2.54, 0), x_dir=(1, 0, 0), z_dir=(0, 1, 0))):
        with Locations((-50.8, -32.68726)):
            Rectangle(SKETCH17_W, SKETCH17_H)
    extrude(amount=-BOSS_EXTRUDE5_DEPTH)

    # LPattern4: Boss-Extrude4 ×2
    with Locations(*[(-i * LPATTERN4_PITCH, 0, 0) for i in range(1, LPATTERN4_COUNT)]):
        add(boss_extrude4)

    # LPattern4 copy 1 sketch → LPattern4 copy 1 (add)
    with BuildSketch(Plane(origin=(-192.71234, 2.54, -50.038), x_dir=(1, 0, 0), z_dir=(0, 1, 0))):
        with Locations((134.29234, -82.72526)):
            Rectangle(LPATTERN4_COPY_1_SKETCH_W, LPATTERN4_COPY_1_SKETCH_H)
    extrude(amount=-LPATTERN4_COPY_1_DEPTH)

    # LPattern4 copy 2 sketch → LPattern4 copy 2 (add)
    with BuildSketch(Plane(origin=(-192.71234, 2.54, -100.076), x_dir=(1, 0, 0), z_dir=(0, 1, 0))):
        with Locations((134.29234, -82.72526)):
            Rectangle(LPATTERN4_COPY_2_SKETCH_W, LPATTERN4_COPY_2_SKETCH_H)
    extrude(amount=-LPATTERN4_COPY_2_DEPTH)

    # Sketch18 → Cut-Extrude6 (cut, through all)
    with BuildSketch(Plane(origin=(0, 2.54, 0), x_dir=(1, 0, 0), z_dir=(0, 1, 0))):
        with Locations((38.1, -22.225)):
            Rectangle(SKETCH18_W, SKETCH18_H)
    extrude(amount=-CUT_EXTRUDE6_DEPTH, mode=Mode.SUBTRACT)

    # Fillet1
    fillet1_edges = [part.edges().sort_by_distance(p)[0] for p in [
        (25.4, 1.27, 31.75),
        (25.4, 1.27, 12.7),
        (50.8, 1.27, 12.7),
        (50.8, 1.27, 31.75),
    ]]
    fillet(fillet1_edges, radius=FILLET1_R)

    # Sketch19 → Cut-Extrude7 (cut)
    with BuildSketch(Plane(origin=(0, 2.54, 0), x_dir=(1, 0, 0), z_dir=(0, 1, 0))):
        with BuildLine():
            Line((34.29, -46.0375), (34.29, -55.5625))
            ThreePointArc((34.29, -55.5625), (33.02, -56.8325), (31.75, -55.5625))
            Line((31.75, -55.5625), (31.75, -46.0375))
            ThreePointArc((31.75, -46.0375), (33.02, -44.7675), (34.29, -46.0375))
        make_face()
    cut_extrude7 = extrude(amount=-CUT_EXTRUDE7_DEPTH, mode=Mode.SUBTRACT)

    # LPattern5: Cut-Extrude7 ×6, 2 skipped
    with Locations(*[(i * LPATTERN5_PITCH, 0, 0) for i in range(1, LPATTERN5_COUNT) if i not in (1, 4)]):
        add(cut_extrude7, mode=Mode.SUBTRACT)

    # #6 Clearance Hole3
    with Locations(Plane(origin=(0, 2.54, 0), x_dir=(1, 0, 0), z_dir=(0, 1, 0))):
        with Locations((-47.625, 35.38474), (-47.625, -100.75926), (123.49734, -100.75926), (123.49734, 35.38474)):
            Hole(F_6_CLEARANCE_HOLE3_D / 2, depth=F_6_CLEARANCE_HOLE3_DEPTH)
            with Locations((0, 0, -(F_6_CLEARANCE_HOLE3_DEPTH + F_6_CLEARANCE_HOLE3_TIP / 2))):  # 118° drill point
                Cone(0, F_6_CLEARANCE_HOLE3_D / 2, F_6_CLEARANCE_HOLE3_TIP, mode=Mode.SUBTRACT)


solid = part.part
